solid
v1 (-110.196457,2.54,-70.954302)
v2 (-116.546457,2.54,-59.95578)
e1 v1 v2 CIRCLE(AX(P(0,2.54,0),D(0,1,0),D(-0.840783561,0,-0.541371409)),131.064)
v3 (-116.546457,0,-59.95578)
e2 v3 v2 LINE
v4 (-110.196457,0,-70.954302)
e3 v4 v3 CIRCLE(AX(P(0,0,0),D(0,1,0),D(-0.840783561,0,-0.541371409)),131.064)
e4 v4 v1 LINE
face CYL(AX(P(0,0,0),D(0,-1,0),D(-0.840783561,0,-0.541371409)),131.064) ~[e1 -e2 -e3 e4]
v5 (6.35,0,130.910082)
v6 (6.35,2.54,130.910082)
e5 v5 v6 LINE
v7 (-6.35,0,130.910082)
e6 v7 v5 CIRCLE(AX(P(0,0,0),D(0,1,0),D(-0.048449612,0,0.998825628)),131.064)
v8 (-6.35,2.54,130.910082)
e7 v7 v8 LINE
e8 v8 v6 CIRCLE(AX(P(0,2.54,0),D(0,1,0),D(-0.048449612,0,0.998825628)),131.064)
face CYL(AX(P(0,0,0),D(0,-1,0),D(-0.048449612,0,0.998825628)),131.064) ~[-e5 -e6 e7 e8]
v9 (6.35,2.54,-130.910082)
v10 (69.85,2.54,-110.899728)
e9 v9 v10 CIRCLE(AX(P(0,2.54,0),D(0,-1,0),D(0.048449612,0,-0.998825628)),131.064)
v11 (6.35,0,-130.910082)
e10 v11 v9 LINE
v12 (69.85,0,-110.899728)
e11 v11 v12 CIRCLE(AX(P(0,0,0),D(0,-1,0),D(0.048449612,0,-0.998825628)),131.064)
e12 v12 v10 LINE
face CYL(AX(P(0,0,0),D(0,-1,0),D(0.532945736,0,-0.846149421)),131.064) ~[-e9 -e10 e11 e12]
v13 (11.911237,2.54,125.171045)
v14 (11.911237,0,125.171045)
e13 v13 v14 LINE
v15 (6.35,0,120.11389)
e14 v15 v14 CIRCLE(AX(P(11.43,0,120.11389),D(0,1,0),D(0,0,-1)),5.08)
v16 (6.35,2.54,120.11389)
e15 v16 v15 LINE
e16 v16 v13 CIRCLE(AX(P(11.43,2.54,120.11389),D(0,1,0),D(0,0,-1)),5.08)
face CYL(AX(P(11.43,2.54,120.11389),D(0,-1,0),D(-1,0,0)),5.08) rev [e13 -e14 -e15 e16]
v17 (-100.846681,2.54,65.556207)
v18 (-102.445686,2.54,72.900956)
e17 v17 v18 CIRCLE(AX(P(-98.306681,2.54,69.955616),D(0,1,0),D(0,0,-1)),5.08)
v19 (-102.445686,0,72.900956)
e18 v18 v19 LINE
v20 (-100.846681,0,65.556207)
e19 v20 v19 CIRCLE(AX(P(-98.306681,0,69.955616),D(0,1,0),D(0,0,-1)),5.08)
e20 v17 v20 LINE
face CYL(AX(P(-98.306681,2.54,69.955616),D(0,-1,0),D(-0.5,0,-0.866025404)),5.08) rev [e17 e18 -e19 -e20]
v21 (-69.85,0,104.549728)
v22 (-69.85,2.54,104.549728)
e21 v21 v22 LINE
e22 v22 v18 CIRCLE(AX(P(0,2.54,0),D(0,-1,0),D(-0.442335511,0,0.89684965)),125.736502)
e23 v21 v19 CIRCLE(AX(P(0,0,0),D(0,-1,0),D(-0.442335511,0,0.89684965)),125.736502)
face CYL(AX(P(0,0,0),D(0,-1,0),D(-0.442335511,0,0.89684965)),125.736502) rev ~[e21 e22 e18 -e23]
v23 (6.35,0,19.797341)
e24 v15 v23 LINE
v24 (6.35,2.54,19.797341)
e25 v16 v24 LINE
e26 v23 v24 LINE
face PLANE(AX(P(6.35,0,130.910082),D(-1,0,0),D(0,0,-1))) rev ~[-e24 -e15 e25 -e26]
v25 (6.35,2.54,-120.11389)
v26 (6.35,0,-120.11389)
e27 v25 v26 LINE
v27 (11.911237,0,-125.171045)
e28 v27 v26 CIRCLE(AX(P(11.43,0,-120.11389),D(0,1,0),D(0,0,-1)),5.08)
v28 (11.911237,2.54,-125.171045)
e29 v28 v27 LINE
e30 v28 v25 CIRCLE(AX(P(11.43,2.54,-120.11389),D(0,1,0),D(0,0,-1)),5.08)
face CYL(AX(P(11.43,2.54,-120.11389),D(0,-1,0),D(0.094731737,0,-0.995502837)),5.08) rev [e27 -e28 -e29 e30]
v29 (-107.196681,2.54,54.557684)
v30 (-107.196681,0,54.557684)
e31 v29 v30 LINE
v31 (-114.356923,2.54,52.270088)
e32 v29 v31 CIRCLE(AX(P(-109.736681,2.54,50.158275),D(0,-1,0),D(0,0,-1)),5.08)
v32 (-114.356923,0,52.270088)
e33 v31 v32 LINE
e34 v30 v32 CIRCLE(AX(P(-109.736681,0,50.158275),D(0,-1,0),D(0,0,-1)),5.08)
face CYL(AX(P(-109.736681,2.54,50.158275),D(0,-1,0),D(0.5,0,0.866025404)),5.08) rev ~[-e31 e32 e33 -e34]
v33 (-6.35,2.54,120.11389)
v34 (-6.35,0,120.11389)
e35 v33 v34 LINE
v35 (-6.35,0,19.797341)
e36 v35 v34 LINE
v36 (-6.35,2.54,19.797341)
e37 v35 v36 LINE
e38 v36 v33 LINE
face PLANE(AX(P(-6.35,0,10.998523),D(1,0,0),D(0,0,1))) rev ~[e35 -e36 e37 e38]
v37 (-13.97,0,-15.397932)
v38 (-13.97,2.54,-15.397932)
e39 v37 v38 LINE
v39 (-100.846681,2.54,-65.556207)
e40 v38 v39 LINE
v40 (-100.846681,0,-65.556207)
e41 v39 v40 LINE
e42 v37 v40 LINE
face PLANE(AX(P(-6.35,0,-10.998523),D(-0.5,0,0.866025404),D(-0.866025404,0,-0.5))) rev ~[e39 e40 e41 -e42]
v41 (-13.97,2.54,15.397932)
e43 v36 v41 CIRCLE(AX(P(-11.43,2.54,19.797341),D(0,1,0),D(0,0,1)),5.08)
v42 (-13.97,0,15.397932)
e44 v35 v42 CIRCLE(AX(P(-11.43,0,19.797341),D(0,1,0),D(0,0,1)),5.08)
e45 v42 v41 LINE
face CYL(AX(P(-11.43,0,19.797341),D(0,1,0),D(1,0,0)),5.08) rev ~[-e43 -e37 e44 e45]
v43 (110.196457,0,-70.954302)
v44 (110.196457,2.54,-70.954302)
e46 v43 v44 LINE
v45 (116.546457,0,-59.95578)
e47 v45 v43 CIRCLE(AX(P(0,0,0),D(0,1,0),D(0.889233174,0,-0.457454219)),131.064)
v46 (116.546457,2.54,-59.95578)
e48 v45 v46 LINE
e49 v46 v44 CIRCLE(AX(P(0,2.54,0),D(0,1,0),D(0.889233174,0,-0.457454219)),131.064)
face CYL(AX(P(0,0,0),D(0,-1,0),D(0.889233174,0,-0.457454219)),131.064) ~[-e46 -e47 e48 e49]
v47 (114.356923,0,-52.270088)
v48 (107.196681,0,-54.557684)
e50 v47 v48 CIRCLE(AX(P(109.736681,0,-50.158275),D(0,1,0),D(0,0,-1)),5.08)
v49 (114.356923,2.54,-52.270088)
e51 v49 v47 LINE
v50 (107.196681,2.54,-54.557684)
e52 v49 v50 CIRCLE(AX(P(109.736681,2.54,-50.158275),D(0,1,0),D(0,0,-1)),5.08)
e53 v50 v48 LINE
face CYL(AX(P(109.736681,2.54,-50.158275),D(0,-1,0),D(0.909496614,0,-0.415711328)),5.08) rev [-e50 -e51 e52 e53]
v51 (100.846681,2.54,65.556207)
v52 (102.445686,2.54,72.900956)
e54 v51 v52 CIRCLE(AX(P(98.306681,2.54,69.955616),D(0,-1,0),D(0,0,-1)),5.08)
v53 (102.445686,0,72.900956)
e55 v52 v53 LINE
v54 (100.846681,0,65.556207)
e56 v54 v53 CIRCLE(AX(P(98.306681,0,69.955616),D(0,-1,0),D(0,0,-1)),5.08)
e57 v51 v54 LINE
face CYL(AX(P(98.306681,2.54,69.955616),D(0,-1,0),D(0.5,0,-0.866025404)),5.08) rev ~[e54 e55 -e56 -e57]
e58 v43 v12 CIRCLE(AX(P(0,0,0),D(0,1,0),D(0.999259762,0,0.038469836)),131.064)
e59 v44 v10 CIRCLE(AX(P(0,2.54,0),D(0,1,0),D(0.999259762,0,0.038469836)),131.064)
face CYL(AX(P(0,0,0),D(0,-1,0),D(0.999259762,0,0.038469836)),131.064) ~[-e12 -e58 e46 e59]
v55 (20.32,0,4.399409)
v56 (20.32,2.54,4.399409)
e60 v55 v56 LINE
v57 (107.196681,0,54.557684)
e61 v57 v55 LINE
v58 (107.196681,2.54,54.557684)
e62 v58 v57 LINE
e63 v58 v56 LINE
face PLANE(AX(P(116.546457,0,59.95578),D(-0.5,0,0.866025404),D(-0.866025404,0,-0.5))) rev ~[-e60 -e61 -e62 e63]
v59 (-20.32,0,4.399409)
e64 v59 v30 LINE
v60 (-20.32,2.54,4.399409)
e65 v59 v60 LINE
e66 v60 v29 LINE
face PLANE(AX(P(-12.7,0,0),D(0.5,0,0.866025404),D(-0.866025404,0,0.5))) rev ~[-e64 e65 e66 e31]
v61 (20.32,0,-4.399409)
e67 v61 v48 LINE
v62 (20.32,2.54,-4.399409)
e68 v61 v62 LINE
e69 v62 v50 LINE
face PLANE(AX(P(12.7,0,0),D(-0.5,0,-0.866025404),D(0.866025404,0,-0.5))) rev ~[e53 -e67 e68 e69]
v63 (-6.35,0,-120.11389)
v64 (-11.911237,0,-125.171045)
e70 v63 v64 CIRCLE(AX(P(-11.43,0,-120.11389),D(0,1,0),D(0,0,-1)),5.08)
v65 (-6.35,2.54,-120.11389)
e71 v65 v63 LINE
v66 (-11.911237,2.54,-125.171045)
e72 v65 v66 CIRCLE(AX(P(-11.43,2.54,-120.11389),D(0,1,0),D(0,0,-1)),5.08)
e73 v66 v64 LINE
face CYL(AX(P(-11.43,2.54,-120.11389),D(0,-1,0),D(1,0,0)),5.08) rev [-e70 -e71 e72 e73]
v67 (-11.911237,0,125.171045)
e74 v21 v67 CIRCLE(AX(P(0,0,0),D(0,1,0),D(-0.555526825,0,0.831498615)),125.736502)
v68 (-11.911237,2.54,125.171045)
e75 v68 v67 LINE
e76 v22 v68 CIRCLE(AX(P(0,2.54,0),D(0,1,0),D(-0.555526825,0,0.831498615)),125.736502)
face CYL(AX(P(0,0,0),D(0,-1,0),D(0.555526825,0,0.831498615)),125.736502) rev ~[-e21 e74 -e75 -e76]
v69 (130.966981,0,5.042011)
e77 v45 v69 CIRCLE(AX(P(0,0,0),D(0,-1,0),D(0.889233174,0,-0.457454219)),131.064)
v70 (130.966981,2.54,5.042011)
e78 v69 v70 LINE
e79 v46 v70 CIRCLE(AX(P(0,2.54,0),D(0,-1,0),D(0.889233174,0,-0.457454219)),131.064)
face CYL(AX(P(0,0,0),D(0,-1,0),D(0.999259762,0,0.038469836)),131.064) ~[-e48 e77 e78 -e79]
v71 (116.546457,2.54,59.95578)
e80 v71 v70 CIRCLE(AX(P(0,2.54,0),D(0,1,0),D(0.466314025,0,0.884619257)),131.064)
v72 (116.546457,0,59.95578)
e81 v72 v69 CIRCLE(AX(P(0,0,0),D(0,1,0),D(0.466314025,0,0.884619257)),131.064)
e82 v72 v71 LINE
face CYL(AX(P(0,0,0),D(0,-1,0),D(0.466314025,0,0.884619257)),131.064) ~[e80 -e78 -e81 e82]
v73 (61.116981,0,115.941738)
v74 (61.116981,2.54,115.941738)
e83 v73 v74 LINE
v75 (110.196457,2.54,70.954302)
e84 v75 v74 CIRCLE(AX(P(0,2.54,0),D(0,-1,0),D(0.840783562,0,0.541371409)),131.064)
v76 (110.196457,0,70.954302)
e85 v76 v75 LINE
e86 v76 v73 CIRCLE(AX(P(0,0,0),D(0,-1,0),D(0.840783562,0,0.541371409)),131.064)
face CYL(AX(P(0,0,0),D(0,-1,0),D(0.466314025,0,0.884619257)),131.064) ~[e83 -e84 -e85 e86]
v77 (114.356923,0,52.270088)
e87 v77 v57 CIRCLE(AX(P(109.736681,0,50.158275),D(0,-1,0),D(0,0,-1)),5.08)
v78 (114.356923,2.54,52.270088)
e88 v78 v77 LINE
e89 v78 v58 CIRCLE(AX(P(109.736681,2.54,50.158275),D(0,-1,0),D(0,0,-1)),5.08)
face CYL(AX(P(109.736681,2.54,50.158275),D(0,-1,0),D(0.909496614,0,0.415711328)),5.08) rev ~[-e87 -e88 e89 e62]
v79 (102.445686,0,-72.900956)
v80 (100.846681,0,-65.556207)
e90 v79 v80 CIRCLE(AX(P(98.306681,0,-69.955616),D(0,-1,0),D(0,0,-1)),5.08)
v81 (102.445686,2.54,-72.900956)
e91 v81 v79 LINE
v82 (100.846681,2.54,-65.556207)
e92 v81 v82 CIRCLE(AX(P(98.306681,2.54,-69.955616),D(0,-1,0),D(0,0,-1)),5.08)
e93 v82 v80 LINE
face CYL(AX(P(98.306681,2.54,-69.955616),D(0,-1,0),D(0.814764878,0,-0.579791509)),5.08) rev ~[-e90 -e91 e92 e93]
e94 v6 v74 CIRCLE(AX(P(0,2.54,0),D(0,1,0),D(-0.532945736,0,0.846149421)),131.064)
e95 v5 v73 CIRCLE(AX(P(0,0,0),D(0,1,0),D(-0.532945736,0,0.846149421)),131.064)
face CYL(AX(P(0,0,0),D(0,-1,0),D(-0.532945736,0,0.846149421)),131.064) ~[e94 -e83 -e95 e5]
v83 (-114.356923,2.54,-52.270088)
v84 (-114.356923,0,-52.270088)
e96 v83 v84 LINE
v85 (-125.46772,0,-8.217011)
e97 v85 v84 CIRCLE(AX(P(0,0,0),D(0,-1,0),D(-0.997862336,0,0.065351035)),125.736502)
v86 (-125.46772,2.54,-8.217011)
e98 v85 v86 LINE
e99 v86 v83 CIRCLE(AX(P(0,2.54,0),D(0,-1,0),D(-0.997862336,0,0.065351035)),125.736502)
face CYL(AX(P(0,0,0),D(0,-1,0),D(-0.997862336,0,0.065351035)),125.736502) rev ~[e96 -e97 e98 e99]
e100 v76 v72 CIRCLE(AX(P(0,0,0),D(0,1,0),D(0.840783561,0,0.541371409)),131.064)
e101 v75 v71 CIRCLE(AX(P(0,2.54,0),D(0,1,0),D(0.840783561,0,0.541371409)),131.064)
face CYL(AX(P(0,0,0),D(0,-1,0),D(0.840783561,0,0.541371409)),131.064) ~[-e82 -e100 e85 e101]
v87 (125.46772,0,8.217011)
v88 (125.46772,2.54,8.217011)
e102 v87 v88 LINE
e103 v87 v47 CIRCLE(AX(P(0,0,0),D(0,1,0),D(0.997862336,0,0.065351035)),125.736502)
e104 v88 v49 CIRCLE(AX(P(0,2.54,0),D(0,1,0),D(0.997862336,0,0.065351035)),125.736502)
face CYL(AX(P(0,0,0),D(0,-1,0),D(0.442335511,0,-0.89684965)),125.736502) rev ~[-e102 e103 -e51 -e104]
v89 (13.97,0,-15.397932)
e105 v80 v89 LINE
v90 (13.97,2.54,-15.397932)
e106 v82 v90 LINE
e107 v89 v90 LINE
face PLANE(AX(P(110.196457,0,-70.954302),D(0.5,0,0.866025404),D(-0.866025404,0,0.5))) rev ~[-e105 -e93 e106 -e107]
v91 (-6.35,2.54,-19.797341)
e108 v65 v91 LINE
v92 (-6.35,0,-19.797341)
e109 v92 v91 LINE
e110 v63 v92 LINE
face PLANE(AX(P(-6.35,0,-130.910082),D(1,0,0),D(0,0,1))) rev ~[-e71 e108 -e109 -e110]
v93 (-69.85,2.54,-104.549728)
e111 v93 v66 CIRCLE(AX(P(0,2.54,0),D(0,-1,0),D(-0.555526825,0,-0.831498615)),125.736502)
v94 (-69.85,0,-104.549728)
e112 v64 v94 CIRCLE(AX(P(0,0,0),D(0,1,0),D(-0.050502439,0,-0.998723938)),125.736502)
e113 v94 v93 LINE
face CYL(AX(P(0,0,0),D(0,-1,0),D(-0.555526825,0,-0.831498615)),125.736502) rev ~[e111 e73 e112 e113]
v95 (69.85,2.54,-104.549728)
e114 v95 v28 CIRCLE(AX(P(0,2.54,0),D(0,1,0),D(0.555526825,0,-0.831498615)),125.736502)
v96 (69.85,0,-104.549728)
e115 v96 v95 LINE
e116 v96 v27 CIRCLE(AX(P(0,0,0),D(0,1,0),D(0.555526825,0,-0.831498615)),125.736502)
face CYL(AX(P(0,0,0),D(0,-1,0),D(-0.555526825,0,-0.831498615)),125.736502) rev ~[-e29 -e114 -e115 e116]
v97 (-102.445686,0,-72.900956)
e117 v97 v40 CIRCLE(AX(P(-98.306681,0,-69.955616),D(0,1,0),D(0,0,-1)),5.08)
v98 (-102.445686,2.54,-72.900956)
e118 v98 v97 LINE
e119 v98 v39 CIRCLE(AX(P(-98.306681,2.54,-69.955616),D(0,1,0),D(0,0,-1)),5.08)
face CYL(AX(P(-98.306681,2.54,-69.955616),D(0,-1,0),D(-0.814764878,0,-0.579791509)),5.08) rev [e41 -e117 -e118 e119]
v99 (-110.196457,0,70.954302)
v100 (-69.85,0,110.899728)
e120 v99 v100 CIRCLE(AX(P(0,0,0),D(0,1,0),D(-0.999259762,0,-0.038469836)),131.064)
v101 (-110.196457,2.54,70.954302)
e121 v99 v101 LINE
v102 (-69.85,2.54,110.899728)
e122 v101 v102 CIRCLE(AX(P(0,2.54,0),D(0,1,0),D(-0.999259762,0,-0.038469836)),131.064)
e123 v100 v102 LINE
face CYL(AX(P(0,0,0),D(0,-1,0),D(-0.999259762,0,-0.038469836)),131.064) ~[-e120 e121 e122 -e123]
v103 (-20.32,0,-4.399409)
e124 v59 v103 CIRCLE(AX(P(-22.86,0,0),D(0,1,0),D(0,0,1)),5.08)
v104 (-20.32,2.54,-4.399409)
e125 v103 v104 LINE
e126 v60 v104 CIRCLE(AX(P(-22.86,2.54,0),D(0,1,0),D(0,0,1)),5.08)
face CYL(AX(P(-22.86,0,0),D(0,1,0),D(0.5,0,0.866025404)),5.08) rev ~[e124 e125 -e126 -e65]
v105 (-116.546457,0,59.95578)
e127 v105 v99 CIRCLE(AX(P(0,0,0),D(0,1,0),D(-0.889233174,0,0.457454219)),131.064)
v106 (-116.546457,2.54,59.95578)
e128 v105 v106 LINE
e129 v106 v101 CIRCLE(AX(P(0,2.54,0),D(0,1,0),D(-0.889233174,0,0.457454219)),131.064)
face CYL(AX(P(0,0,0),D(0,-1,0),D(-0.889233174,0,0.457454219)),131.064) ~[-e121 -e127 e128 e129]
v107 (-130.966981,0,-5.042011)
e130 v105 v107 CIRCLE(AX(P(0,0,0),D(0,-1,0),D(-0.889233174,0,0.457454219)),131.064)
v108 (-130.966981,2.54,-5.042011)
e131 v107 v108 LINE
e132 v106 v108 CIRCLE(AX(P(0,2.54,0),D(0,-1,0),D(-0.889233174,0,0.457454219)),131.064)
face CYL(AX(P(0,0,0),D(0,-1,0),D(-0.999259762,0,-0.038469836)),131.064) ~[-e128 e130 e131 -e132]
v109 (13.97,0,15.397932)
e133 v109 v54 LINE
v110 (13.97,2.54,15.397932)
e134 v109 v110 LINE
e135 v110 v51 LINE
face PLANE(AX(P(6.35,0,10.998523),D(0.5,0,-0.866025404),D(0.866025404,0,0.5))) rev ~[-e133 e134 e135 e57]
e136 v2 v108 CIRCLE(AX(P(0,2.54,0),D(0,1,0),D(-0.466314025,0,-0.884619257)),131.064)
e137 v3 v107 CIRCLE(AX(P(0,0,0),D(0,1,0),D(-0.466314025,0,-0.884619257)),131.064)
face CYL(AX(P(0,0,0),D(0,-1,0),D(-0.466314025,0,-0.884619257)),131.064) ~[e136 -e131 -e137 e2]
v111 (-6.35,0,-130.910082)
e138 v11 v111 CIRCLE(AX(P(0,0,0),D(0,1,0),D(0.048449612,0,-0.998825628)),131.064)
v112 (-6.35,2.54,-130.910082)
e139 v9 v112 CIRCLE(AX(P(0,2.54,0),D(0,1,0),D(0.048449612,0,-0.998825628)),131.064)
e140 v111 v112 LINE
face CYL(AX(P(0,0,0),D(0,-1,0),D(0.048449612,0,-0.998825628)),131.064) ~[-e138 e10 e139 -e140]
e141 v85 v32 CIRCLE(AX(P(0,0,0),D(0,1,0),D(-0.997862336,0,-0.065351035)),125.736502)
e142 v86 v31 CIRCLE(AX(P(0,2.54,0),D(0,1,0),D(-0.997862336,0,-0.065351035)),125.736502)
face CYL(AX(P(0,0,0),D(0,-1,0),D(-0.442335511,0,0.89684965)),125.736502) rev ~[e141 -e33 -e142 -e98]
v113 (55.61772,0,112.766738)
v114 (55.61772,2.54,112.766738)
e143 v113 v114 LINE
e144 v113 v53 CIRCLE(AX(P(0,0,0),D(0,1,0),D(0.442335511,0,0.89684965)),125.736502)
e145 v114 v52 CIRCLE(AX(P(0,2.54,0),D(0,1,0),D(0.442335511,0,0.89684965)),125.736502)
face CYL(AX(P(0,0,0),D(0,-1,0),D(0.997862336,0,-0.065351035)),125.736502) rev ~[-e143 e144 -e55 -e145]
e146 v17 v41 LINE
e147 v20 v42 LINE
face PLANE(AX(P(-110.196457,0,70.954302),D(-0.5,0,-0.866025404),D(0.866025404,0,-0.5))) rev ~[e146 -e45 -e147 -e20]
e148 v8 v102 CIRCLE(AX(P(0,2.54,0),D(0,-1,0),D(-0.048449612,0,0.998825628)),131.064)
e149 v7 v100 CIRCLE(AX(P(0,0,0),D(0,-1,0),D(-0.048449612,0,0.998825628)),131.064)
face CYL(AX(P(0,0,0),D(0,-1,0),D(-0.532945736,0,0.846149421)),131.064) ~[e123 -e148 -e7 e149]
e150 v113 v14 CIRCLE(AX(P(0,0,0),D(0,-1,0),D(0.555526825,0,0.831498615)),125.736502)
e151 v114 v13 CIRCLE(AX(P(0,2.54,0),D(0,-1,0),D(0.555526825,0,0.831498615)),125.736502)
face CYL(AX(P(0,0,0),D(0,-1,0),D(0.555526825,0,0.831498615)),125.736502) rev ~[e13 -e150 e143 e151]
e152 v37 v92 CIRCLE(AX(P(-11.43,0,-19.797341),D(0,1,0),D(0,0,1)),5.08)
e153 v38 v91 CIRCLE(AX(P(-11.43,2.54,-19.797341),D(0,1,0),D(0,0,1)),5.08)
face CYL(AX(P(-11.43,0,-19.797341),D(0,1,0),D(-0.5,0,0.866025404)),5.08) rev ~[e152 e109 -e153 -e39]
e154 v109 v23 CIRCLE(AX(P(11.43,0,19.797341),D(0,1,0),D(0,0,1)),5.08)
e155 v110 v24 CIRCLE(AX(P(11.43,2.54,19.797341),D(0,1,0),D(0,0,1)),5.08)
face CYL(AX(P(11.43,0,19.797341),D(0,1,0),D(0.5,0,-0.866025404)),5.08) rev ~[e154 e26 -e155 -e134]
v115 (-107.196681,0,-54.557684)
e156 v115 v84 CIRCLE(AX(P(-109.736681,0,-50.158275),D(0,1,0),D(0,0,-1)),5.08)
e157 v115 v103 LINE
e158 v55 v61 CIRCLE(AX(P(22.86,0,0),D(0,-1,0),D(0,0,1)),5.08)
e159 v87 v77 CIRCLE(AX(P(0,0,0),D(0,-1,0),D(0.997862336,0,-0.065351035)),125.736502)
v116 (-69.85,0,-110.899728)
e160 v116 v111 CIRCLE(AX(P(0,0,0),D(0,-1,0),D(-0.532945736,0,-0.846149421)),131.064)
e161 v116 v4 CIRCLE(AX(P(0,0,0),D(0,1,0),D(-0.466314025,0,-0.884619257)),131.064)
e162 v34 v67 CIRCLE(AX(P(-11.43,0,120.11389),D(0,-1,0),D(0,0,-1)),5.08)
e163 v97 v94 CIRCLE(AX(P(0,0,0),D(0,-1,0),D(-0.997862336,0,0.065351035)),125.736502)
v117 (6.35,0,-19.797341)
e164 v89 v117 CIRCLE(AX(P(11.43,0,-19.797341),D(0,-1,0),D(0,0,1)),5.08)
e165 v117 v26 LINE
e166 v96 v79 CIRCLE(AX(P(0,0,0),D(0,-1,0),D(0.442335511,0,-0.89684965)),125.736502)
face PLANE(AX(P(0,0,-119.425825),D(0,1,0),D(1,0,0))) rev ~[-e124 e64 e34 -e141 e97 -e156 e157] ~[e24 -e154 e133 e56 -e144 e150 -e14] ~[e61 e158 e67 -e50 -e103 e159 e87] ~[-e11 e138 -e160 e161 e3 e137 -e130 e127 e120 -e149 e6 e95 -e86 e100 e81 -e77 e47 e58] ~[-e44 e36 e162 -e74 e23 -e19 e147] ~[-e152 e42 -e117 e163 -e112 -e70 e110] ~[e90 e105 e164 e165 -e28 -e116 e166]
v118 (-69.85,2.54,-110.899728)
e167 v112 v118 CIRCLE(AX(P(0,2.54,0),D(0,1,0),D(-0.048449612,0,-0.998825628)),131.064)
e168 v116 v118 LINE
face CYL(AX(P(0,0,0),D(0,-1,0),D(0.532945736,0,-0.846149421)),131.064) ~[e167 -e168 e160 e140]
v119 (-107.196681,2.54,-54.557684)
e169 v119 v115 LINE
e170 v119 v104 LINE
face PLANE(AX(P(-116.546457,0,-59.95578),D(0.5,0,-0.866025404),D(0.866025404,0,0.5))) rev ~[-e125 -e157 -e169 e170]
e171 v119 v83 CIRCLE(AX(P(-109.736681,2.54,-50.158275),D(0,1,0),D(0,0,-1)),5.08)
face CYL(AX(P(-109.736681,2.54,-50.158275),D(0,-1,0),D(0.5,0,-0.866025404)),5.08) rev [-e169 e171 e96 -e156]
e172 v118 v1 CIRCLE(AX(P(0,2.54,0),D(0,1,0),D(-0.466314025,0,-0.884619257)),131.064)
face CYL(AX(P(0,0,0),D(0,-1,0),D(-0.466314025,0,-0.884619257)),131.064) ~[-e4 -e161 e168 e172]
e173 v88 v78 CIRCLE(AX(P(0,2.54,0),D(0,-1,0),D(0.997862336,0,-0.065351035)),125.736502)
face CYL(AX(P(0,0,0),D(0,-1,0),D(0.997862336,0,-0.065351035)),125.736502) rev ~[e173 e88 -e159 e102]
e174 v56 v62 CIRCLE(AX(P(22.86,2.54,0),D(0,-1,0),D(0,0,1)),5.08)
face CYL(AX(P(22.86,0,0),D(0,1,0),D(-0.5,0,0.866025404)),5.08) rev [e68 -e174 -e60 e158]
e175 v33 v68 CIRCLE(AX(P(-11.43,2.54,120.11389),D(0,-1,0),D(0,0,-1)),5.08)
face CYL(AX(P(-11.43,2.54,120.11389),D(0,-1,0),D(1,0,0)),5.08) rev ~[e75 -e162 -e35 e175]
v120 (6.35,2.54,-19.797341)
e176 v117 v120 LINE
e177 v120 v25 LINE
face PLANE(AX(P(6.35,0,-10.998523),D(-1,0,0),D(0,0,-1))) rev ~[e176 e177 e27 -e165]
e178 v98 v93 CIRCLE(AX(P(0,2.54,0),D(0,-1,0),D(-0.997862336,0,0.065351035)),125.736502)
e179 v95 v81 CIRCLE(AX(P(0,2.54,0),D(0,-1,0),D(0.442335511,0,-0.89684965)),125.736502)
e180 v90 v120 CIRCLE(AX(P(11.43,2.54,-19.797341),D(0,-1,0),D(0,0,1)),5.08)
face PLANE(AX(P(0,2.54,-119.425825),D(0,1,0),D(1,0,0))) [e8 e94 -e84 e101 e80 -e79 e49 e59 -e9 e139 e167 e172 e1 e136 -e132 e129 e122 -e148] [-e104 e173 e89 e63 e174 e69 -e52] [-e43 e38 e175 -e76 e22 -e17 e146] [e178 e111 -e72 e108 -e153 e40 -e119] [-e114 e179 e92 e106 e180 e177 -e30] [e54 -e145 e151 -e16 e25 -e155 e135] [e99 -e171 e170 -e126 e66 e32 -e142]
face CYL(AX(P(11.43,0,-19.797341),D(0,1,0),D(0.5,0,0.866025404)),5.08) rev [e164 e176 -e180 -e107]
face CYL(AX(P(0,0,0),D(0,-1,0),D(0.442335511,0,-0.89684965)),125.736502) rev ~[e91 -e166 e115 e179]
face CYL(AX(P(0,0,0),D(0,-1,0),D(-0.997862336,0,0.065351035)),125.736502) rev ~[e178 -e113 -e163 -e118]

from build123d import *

# Parameters (mm, degrees)
BOSS_EXTRUDE1_DEPTH = 2.54
BOSS_EXTRUDE2_START = -2.54
BOSS_EXTRUDE2_DEPTH = 2.54
CIRPATTERN1_COUNT   = 6
FILLET1_R           = 5.08
FILLET2_R           = 5.08


with BuildPart() as part:
    # Sketch2 → Boss-Extrude1 (new body)
    with BuildSketch(Plane(origin=(0, 0, 0), x_dir=(1, 0, 0), z_dir=(0, 1, 0))):
        with BuildLine():
            Line((110.196456712, 70.954302365), (6.35, 10.998522628))
            Line((6.35, 10.998522628), (6.35, 130.910082102))
            ThreePointArc((6.35, 130.910082102), (0, 131.064), (-6.35, 130.910082102))
            Line((-6.35, 130.910082102), (-6.35, 10.998522628))
            Line((-6.35, 10.998522628), (-110.196456712, 70.954302365))
            ThreePointArc((-110.196456712, 70.954302365), (-113.504753522, 65.532), (-116.546456712, 59.955779737))
            Line((-116.546456712, 59.955779737), (-12.7, 0))
            Line((-12.7, 0), (-116.546456712, -59.955779737))
            ThreePointArc((-116.546456712, -59.955779737), (-113.504753522, -65.532), (-110.196456712, -70.954302365))
            Line((-110.196456712, -70.954302365), (-6.35, -10.998522628))
            Line((-6.35, -10.998522628), (-6.35, -130.910082102))
            ThreePointArc((-6.35, -130.910082102), (0, -131.064), (6.35, -130.910082102))
            Line((6.35, -130.910082102), (6.35, -10.998522628))
            Line((6.35, -10.998522628), (110.196456712, -70.954302365))
            ThreePointArc((110.196456712, -70.954302365), (113.504753522, -65.532), (116.546456712, -59.955779737))
            Line((116.546456712, -59.955779737), (12.7, 0))
            Line((12.7, 0), (116.546456712, 59.955779737))
            ThreePointArc((116.546456712, 59.955779737), (113.504753522, 65.532), (110.196456712, 70.954302365))
        make_face()
    extrude(amount=BOSS_EXTRUDE1_DEPTH)

    # Sketch3 → Boss-Extrude2 (add)
    with BuildSketch(Plane(origin=(0, 2.54, 0), x_dir=(1, 0, 0), z_dir=(0, 1, 0)).offset(BOSS_EXTRUDE2_START)):
        with BuildLine():
            Line((-69.85, 110.899727664), (-69.85, 104.549727664))
            ThreePointArc((-69.85, 104.549727664), (0, 125.736502475), (69.85, 104.549727664))
            Line((69.85, 104.549727664), (69.85, 110.899727664))
            ThreePointArc((69.85, 110.899727664), (0, 131.064), (-69.85, 110.899727664))
        make_face()
    boss_extrude2 = extrude(amount=BOSS_EXTRUDE2_DEPTH)

    # CirPattern1: Boss-Extrude2 ×6 about axis
    cirpattern1_axis = Axis((0, 2.54, 0), (0, -1, 0))
    for i in range(1, CIRPATTERN1_COUNT):
        add(boss_extrude2.rotate(cirpattern1_axis, i * 360 / CIRPATTERN1_COUNT))

    # Fillet1
    fillet1_edges = [part.edges().sort_by_distance(p)[0] for p in [
        (111.927053617, 1.27, -57.288766117),
        (105.577053617, 1.27, -68.287288745),
        (-6.35, 1.27, -125.576054862),
        (6.35, 1.27, -125.576054862),
        (-105.577053617, 1.27, -68.287288745),
        (-111.927053617, 1.27, -57.288766117),
        (-111.927053617, 1.27, 57.288766117),
        (-105.577053617, 1.27, 68.287288745),
        (-6.35, 1.27, 125.576054862),
        (6.35, 1.27, 125.576054862),
        (105.577053617, 1.27, 68.287288745),
        (111.927053617, 1.27, 57.288766117),
    ]]
    fillet(fillet1_edges, radius=FILLET1_R)

    # Fillet2
    fillet2_edges = [part.edges().sort_by_distance(p)[0] for p in [
        (6.35, 1.27, -10.998522628),
        (12.7, 1.27, 0),
        (6.35, 1.27, 10.998522628),
        (-6.35, 1.27, 10.998522628),
        (-12.7, 1.27, 0),
        (-6.35, 1.27, -10.998522628),
    ]]
    fillet(fillet2_edges, radius=FILLET2_R)


solid = part.part
